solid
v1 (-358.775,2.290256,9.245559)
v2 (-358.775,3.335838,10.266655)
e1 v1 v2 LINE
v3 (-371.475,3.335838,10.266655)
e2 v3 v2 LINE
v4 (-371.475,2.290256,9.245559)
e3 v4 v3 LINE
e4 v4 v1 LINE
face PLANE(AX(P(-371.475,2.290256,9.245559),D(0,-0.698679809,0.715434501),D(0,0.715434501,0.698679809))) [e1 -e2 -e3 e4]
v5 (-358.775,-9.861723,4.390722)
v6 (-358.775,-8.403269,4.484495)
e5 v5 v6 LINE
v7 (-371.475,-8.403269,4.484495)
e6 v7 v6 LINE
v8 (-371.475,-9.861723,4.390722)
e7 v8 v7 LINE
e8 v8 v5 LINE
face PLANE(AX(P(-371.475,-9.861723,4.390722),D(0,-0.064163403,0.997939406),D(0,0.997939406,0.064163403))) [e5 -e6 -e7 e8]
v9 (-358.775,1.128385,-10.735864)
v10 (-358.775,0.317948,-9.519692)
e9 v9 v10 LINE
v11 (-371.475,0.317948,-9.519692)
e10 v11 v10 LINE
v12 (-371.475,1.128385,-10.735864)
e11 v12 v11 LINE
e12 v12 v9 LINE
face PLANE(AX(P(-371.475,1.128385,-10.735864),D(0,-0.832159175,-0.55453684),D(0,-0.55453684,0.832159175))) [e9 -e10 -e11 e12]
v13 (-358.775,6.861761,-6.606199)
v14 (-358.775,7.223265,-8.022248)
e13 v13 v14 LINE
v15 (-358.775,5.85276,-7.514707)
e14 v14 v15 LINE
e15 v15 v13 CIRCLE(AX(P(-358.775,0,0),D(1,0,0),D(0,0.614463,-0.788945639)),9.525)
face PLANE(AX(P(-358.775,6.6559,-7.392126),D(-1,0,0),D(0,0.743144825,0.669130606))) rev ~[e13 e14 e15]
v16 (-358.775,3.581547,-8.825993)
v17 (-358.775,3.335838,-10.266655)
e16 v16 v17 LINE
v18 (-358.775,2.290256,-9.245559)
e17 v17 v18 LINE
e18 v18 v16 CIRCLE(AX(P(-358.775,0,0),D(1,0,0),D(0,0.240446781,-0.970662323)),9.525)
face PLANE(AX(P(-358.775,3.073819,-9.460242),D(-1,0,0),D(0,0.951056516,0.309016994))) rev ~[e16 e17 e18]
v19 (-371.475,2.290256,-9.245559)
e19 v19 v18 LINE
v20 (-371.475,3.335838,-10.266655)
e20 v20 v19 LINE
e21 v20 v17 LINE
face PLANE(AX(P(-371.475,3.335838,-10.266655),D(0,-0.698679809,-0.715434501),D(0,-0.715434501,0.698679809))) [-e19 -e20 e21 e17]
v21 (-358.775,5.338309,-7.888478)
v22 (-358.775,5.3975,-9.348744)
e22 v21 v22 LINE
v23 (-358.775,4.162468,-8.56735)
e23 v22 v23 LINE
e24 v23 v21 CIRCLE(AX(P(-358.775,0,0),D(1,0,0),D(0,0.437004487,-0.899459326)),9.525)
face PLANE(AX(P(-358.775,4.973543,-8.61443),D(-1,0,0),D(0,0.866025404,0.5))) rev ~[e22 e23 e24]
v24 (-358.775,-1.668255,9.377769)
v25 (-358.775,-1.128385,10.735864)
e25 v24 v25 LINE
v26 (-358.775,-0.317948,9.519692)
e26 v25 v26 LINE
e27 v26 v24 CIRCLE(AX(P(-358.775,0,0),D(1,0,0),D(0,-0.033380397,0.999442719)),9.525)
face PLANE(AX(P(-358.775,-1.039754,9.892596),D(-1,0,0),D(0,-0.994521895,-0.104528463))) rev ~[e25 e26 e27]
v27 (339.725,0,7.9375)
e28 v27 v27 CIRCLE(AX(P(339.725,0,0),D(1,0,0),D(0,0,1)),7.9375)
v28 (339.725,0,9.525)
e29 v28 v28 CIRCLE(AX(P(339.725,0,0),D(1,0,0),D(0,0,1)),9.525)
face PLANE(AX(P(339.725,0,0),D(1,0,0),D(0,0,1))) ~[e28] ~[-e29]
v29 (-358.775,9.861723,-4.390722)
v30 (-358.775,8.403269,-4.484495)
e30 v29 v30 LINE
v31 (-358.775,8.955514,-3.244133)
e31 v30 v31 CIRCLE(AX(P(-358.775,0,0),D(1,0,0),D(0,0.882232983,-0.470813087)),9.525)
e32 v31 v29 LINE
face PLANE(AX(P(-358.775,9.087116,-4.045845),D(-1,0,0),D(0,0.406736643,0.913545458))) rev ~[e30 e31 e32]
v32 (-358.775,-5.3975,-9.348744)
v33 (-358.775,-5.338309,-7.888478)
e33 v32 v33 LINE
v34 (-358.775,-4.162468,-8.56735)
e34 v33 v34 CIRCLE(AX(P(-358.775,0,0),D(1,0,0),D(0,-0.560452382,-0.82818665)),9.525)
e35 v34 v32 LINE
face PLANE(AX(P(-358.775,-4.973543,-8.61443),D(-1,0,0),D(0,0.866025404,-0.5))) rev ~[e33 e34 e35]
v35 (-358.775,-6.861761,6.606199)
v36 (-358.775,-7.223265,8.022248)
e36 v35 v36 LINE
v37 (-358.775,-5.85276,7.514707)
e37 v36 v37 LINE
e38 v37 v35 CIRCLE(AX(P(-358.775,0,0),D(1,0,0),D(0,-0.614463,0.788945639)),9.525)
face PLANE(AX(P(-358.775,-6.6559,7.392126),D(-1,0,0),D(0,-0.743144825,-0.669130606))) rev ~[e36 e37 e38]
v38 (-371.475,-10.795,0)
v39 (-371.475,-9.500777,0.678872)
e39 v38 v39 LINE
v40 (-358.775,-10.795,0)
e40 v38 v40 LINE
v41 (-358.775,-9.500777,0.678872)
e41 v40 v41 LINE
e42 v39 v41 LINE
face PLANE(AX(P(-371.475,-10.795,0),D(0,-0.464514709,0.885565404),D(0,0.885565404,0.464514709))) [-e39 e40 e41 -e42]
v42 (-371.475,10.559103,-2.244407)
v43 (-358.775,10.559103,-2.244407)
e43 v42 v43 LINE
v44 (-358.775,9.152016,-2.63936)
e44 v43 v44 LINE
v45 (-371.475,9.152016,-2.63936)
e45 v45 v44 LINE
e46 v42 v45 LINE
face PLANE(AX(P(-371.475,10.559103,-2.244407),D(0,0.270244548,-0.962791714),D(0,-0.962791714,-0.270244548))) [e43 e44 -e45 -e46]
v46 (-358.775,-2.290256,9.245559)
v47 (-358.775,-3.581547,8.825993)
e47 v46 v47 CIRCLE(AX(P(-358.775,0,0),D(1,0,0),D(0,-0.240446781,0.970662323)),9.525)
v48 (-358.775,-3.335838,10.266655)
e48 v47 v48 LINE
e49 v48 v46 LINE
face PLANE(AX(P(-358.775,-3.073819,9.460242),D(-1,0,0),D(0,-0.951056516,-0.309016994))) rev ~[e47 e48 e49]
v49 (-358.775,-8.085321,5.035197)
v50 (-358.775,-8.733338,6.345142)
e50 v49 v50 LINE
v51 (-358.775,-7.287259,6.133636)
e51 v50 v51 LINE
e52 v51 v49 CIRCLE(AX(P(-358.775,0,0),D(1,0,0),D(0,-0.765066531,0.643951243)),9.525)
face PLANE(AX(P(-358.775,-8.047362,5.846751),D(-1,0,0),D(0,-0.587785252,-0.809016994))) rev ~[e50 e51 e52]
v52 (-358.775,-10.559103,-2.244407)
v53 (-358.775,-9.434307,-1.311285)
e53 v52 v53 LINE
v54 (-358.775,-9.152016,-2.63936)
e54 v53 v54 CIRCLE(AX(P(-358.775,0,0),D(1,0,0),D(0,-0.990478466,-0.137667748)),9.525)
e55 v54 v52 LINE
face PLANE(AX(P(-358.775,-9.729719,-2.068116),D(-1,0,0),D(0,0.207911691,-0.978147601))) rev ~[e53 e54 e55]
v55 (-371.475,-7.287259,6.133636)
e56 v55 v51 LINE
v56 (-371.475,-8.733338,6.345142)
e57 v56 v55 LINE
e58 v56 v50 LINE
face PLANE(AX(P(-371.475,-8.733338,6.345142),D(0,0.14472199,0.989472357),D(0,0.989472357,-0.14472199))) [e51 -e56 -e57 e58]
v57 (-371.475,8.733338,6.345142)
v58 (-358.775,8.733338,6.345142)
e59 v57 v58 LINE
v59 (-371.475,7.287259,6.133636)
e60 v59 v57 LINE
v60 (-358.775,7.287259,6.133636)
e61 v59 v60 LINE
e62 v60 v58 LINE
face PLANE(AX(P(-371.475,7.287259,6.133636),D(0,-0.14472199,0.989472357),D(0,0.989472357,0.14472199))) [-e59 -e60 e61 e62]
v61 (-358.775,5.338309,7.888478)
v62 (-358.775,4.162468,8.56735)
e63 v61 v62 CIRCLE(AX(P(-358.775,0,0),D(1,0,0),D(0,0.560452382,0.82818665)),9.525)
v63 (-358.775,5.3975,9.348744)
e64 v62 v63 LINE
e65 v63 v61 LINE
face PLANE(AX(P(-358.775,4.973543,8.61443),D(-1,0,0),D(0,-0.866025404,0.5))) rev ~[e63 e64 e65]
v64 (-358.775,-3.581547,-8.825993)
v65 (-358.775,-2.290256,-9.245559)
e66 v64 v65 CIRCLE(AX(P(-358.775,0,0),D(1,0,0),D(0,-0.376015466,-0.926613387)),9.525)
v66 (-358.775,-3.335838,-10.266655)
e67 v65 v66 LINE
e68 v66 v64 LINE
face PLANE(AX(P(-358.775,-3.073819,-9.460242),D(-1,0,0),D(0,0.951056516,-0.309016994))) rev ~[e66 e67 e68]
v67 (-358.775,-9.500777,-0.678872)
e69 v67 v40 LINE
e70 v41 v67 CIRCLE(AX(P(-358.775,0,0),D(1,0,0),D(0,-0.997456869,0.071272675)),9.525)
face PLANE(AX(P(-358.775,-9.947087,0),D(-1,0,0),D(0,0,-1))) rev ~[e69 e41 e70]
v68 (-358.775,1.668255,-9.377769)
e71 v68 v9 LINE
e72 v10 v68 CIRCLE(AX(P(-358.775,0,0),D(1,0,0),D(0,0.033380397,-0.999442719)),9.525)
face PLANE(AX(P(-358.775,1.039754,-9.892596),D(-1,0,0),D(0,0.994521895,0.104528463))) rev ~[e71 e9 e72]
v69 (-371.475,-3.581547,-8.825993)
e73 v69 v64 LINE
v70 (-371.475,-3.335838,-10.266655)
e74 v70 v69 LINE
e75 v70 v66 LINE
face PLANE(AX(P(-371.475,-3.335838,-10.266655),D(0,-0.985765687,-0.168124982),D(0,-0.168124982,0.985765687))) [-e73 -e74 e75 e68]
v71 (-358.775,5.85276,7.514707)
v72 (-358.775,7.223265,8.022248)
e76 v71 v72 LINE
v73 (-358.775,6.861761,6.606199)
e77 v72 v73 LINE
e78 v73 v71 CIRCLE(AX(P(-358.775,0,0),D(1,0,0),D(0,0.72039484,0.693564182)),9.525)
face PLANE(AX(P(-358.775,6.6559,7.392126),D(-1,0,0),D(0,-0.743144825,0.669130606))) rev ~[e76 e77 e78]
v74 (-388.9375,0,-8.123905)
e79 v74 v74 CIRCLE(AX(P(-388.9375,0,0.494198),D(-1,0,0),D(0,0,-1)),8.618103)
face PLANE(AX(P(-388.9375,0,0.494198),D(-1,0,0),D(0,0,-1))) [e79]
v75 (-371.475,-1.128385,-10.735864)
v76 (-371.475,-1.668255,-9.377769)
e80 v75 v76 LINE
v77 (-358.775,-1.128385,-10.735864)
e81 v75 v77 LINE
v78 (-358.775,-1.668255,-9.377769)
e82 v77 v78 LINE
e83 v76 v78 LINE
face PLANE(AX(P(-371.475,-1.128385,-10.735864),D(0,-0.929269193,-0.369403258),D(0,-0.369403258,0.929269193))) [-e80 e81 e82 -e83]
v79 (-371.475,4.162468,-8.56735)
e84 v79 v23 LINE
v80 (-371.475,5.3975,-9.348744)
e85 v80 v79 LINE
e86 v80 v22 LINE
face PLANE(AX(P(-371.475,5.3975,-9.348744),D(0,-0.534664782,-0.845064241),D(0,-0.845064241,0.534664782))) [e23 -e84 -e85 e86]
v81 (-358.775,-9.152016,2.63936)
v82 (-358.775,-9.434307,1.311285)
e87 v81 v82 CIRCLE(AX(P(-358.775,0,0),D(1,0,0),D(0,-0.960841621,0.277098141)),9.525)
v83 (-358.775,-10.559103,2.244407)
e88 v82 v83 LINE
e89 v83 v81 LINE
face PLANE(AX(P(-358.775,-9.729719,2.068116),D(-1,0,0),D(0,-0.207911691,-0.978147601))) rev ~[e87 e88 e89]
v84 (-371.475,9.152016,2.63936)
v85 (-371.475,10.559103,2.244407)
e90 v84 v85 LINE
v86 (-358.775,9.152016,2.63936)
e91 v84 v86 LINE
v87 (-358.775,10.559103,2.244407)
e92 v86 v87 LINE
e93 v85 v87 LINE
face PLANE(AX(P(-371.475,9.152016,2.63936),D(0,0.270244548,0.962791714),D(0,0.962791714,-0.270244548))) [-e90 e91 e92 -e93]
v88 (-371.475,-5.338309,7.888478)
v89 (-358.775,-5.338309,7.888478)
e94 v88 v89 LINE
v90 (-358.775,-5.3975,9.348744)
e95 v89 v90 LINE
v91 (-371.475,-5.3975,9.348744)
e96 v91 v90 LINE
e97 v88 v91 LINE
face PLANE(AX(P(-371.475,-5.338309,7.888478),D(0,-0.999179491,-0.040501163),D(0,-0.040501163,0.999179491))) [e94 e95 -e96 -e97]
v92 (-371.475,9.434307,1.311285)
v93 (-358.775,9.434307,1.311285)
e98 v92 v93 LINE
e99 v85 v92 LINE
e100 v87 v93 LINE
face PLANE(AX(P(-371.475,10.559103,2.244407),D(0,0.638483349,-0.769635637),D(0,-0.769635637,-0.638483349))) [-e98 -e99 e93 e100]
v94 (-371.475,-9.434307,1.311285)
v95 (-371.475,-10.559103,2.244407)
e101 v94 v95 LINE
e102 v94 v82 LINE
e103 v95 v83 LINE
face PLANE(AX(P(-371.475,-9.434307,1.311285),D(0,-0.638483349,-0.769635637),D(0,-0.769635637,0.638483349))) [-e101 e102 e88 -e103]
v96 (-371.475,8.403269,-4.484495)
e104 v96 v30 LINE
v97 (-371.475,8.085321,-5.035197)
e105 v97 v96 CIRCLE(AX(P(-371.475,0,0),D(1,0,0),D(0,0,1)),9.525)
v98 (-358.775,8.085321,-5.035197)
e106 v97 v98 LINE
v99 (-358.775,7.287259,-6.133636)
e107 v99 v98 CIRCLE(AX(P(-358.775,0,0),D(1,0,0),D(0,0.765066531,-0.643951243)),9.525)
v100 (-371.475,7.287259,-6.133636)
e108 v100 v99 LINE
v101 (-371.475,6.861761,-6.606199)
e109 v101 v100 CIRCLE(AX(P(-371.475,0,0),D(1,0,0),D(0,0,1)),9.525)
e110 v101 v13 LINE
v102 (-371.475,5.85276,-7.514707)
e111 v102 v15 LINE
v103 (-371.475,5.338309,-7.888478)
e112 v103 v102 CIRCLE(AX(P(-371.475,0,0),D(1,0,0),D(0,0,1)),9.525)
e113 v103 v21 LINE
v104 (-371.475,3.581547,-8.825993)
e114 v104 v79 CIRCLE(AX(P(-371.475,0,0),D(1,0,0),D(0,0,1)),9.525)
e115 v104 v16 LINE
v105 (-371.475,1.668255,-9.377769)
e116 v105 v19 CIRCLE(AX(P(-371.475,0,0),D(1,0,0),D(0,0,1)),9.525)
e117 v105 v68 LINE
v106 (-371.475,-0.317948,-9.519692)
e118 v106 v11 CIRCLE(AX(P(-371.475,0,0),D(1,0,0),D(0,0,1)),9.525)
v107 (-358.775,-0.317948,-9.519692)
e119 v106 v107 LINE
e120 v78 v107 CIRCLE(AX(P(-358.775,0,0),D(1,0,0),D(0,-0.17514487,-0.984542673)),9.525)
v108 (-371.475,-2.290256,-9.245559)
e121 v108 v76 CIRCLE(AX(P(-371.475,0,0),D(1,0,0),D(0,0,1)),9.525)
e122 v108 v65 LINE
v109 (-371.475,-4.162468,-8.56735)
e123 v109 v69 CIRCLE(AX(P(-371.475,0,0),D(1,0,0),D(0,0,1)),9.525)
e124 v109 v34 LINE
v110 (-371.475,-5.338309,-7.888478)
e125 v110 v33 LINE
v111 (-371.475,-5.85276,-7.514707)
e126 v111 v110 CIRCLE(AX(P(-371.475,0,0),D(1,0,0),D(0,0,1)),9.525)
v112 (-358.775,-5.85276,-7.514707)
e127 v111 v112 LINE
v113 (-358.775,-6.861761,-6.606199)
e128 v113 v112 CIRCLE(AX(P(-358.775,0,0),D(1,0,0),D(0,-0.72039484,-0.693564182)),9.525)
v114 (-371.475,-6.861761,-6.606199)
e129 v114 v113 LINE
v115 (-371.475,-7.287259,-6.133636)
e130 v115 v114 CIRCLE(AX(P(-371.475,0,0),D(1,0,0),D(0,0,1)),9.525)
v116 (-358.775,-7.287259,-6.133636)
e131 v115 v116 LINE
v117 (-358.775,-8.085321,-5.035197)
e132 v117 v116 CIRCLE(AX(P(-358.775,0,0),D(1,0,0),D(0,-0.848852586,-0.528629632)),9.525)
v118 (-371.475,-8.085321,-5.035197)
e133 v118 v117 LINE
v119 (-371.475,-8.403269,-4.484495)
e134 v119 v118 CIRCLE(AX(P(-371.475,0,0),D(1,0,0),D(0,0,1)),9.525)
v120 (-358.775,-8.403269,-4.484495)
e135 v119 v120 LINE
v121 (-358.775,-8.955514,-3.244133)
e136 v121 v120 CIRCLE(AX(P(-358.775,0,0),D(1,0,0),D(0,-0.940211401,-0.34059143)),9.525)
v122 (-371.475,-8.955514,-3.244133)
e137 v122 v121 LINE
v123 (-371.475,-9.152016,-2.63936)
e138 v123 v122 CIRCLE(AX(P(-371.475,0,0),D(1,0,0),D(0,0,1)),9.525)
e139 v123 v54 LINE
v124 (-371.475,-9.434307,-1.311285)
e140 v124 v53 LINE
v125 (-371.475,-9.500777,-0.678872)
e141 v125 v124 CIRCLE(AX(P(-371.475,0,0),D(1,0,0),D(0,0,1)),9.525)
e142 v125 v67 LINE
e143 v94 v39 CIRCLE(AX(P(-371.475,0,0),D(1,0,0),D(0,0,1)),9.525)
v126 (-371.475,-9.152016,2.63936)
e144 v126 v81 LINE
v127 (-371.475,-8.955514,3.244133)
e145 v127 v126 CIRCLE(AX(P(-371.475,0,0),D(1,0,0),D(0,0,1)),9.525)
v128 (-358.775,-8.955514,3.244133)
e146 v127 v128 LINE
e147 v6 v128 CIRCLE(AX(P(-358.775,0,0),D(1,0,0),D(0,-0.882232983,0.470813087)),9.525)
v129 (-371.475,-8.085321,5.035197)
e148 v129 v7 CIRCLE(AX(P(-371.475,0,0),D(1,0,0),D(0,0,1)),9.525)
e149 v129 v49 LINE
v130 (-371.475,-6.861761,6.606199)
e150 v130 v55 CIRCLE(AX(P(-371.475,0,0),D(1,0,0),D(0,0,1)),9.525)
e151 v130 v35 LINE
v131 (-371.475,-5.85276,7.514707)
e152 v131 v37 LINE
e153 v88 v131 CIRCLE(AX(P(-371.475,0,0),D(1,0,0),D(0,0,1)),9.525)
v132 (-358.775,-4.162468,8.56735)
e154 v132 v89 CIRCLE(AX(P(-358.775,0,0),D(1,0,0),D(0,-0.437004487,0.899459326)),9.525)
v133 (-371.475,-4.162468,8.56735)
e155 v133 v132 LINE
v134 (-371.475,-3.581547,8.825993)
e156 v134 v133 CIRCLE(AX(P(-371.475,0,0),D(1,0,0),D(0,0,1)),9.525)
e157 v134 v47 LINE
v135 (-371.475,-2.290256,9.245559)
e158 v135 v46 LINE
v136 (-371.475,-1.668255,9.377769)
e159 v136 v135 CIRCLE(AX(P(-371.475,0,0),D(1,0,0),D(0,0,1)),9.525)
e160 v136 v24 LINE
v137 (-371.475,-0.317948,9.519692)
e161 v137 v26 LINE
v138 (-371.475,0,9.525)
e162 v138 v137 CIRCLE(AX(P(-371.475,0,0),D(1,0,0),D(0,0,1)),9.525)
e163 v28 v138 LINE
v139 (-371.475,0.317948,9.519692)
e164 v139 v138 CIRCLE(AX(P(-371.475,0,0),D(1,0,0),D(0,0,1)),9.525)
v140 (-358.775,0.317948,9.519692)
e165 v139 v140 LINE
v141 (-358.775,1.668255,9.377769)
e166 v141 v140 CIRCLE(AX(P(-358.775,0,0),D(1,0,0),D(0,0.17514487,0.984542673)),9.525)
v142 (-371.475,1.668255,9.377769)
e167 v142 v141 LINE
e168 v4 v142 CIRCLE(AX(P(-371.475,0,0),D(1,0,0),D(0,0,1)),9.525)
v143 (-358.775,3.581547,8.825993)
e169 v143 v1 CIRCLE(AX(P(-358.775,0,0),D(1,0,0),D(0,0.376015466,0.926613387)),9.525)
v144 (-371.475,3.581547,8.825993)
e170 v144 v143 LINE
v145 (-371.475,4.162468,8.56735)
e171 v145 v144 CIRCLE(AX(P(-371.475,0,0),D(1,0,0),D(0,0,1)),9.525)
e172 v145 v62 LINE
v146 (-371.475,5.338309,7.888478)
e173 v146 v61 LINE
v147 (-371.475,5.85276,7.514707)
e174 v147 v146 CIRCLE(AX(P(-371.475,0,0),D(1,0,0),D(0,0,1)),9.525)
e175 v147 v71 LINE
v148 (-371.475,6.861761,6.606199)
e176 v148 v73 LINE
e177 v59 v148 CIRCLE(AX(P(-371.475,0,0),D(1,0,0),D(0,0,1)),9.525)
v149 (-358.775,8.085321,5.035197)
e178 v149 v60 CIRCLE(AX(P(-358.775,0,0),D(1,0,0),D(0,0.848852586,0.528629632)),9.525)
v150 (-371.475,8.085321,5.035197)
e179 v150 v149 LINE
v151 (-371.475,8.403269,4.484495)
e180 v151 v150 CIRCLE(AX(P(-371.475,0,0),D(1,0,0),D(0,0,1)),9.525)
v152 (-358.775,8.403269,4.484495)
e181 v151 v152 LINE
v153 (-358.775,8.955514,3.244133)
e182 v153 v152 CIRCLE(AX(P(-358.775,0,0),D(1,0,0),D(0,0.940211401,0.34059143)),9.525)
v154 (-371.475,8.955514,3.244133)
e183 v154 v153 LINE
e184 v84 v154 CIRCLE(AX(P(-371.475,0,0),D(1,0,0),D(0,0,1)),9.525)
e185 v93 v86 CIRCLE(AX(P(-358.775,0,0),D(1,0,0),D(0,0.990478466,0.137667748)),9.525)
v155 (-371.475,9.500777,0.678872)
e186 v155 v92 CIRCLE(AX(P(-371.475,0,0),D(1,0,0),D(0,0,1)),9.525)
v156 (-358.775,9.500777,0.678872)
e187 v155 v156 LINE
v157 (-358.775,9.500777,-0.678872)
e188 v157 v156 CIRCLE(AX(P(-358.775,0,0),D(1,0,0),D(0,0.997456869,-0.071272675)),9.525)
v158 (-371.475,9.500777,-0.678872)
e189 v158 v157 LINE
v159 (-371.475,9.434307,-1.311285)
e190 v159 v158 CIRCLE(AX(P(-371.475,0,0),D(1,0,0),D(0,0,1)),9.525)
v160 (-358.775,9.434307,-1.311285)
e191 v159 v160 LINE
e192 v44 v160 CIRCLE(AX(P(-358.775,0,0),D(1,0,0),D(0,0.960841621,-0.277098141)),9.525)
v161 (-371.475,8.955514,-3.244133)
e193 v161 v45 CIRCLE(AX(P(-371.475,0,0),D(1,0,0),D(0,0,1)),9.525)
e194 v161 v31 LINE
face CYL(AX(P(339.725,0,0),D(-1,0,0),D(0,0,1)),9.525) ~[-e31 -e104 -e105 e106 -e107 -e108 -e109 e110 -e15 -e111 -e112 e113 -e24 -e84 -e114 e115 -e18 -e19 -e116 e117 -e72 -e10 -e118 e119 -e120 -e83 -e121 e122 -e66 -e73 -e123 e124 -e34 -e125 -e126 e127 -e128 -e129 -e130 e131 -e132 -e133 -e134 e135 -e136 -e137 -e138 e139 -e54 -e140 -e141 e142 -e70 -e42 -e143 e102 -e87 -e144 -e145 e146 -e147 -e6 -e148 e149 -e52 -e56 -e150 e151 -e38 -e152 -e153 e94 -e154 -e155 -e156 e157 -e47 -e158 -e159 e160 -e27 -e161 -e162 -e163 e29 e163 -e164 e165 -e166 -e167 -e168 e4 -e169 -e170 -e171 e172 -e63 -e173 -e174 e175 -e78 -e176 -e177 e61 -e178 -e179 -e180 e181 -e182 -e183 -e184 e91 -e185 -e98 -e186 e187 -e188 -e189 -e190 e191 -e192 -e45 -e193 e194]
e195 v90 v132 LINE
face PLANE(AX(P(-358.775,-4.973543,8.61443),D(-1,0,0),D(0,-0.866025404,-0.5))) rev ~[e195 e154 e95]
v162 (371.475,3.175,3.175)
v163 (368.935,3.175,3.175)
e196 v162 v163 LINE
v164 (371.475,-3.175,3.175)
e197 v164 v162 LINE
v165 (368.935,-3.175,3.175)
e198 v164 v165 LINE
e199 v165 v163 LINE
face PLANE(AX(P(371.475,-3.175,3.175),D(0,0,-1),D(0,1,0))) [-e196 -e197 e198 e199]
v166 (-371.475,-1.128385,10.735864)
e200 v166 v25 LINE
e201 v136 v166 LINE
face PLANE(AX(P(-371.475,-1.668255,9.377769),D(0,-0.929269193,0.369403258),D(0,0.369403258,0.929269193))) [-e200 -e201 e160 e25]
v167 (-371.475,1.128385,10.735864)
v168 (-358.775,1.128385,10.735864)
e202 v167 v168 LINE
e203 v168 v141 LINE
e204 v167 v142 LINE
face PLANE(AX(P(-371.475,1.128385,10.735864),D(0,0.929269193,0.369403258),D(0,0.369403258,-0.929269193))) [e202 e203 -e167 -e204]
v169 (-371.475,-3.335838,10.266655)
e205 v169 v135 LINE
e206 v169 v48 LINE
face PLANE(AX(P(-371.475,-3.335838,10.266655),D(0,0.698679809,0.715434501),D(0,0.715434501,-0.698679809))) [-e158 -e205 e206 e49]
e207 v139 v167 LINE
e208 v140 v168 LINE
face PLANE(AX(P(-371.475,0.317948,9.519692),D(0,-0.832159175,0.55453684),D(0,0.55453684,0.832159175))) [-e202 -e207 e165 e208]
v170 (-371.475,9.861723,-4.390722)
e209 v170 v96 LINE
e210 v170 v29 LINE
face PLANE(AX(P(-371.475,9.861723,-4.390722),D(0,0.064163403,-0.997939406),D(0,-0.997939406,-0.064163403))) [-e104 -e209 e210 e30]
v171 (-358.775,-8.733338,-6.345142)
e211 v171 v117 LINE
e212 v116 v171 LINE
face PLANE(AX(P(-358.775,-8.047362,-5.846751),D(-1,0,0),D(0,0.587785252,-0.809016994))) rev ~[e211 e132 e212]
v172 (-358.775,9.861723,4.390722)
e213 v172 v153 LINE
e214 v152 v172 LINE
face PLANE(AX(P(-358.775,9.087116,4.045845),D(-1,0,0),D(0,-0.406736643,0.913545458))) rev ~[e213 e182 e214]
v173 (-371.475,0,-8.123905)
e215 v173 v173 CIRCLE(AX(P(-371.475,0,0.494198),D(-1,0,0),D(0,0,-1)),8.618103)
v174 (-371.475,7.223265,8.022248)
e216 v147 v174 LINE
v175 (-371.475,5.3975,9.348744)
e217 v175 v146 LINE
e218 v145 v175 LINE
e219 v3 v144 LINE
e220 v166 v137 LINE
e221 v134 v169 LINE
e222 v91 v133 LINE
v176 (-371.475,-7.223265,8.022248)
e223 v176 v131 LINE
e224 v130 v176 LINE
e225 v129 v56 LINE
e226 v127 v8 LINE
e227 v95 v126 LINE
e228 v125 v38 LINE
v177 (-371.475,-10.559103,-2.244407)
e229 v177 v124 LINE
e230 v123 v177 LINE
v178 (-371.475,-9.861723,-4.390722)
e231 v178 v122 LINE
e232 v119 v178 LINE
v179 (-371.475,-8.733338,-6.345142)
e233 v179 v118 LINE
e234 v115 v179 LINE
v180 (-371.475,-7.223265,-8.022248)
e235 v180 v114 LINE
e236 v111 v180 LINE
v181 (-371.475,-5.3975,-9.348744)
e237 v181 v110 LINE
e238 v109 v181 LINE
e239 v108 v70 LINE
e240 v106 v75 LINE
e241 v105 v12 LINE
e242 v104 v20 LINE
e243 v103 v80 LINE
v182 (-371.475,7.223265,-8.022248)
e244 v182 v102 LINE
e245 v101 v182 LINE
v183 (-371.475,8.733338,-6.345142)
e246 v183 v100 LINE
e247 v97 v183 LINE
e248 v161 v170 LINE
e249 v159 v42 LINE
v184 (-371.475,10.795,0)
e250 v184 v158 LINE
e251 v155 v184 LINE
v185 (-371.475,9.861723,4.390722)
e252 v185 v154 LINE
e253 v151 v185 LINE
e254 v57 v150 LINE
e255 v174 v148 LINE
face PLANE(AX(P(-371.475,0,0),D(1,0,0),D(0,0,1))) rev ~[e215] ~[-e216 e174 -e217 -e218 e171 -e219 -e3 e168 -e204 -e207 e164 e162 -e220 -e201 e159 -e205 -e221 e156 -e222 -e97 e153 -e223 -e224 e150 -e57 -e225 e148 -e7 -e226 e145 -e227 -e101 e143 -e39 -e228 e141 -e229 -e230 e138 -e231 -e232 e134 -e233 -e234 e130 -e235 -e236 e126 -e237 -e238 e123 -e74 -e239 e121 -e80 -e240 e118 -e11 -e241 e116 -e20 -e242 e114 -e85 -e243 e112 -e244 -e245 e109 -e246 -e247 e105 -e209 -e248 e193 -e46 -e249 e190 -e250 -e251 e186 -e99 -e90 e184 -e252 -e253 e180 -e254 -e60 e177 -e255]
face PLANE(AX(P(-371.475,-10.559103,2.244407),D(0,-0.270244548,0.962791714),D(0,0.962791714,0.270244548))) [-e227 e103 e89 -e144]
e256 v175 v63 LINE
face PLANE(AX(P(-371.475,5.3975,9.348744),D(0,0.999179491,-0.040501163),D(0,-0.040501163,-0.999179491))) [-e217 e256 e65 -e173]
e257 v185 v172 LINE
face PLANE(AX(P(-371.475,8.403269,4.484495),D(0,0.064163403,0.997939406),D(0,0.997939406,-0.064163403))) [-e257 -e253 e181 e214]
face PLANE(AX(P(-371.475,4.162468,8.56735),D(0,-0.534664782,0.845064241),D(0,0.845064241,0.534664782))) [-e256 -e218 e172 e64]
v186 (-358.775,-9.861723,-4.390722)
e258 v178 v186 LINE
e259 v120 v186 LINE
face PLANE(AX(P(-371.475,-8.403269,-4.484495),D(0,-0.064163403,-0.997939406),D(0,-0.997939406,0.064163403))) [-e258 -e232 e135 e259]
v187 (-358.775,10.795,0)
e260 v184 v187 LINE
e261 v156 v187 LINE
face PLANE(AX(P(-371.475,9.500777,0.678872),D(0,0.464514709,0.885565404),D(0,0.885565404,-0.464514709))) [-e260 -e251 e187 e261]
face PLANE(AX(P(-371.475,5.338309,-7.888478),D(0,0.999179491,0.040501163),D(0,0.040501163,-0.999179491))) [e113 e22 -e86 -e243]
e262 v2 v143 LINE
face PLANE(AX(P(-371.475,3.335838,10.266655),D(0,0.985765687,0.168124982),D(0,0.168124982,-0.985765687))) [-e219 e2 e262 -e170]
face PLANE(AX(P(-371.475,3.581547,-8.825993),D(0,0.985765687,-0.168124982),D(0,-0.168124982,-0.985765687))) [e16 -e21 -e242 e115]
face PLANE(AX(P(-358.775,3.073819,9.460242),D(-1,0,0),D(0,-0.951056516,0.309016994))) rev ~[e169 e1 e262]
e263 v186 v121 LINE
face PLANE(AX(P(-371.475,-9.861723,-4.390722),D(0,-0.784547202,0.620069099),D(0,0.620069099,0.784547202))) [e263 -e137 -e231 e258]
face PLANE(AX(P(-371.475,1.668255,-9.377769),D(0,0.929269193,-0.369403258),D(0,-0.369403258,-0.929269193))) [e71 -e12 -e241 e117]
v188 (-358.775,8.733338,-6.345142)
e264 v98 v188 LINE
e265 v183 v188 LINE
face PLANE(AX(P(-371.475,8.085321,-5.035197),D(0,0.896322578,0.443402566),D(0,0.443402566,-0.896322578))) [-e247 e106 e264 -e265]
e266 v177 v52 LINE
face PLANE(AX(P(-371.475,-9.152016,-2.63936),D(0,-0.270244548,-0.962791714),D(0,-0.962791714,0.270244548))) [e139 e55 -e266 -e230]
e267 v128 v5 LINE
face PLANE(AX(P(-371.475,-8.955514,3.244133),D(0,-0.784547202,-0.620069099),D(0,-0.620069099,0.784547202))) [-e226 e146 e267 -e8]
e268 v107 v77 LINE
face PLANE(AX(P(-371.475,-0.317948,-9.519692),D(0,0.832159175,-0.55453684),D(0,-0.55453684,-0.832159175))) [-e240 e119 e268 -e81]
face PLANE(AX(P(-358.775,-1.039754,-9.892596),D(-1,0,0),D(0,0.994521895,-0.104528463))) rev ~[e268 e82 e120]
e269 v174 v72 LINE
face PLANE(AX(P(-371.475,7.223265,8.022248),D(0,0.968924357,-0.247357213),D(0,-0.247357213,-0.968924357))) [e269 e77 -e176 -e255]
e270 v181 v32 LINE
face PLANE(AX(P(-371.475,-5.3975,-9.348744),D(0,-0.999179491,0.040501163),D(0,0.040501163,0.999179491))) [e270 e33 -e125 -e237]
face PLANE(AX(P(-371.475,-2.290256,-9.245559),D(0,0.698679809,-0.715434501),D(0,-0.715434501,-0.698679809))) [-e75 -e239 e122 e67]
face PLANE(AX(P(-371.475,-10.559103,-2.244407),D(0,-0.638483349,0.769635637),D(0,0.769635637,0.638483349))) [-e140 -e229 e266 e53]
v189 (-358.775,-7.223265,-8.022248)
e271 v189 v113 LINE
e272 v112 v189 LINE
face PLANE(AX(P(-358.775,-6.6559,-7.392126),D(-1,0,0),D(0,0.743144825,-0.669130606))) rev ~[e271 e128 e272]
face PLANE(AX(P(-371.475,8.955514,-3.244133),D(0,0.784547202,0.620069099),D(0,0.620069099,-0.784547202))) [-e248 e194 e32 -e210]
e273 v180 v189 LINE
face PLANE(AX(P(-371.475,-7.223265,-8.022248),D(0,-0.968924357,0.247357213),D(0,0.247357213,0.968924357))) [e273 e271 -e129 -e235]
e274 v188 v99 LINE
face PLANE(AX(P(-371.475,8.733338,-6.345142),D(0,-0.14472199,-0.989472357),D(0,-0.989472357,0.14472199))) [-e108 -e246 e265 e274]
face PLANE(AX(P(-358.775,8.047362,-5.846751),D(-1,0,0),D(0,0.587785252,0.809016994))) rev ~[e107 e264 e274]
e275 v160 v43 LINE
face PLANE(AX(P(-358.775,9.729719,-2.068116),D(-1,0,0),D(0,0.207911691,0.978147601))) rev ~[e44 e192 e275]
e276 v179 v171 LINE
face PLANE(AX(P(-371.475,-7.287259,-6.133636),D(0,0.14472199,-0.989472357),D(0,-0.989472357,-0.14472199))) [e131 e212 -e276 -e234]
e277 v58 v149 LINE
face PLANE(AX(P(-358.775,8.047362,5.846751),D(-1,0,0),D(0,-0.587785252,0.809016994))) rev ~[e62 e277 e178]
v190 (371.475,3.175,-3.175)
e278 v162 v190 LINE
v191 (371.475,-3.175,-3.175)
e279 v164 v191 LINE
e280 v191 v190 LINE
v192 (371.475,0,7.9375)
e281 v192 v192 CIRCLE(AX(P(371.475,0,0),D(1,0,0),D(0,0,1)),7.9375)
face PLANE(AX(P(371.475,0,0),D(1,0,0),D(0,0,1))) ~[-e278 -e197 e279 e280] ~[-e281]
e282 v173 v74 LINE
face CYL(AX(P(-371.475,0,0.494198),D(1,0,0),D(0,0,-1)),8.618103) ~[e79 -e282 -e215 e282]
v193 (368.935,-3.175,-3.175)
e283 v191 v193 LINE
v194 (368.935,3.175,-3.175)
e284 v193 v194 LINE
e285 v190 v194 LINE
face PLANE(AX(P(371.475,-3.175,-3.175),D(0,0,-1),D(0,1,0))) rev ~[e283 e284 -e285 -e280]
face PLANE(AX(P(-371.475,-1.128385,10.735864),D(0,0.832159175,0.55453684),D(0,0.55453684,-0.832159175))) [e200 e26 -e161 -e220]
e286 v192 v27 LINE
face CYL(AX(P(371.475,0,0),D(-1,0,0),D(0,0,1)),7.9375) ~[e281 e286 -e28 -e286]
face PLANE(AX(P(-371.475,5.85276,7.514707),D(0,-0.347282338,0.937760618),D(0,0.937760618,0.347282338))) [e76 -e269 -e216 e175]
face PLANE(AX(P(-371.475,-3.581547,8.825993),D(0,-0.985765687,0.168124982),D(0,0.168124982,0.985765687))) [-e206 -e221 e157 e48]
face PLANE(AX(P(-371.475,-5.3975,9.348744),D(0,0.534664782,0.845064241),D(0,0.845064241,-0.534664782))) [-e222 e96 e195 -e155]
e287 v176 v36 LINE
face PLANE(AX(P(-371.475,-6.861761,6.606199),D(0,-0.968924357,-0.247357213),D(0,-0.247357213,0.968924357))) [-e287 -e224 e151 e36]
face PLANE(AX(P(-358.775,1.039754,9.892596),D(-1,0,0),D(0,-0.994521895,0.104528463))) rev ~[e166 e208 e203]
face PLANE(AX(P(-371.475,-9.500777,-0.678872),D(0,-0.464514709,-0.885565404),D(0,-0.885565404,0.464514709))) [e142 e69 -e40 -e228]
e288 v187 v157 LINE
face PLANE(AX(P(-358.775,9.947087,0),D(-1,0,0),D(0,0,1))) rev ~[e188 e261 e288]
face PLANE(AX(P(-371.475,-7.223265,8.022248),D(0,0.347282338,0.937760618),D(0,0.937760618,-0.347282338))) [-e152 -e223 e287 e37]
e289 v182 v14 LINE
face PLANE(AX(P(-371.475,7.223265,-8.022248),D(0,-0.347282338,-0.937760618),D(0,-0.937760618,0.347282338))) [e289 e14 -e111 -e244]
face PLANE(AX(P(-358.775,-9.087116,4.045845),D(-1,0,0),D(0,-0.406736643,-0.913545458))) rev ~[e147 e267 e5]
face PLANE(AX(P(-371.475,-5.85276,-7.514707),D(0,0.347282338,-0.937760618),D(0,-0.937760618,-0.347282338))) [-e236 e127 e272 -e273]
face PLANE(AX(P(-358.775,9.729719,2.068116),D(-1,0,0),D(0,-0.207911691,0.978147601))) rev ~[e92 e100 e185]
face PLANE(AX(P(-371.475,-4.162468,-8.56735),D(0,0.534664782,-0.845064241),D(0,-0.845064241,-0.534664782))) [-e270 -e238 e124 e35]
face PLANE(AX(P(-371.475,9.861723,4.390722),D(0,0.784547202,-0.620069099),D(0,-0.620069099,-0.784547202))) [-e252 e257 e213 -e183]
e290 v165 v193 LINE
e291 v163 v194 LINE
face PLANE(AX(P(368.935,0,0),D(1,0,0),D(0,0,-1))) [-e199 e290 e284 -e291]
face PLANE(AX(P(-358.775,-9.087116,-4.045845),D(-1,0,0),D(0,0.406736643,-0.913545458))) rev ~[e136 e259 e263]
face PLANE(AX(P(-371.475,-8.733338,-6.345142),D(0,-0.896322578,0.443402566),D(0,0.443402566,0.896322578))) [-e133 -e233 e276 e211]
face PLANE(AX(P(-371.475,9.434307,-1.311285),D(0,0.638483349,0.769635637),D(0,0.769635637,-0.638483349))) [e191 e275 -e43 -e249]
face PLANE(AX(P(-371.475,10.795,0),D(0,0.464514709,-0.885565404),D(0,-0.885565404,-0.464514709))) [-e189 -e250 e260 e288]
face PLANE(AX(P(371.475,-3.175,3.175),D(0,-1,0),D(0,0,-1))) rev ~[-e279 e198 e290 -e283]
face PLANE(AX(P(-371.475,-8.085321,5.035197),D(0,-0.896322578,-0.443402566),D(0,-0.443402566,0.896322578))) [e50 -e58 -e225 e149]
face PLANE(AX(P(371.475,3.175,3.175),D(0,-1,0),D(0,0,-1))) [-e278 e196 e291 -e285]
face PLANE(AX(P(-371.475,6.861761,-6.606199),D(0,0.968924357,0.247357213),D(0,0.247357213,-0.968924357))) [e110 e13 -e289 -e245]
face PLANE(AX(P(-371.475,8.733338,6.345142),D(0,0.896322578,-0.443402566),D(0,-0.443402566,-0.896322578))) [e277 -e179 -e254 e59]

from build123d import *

# Parameters (mm, degrees)
BOSS_EXTRUDE1_DEPTH = 12.7
CIRPATTERN1_COUNT   = 30
SKETCH3_R           = 8.618103117
BOSS_EXTRUDE2_DEPTH = 17.4625
SKETCH4_W           = 6.35
SKETCH4_H           = 6.35
MAGIC_BOX_DEPTH     = 2.54


with BuildPart() as part:
    # Sketch1 → Revolve1 (revolve)
    with BuildSketch(Plane.XY):
        Polygon((-371.475, 0), (371.475, 0), (371.475, 7.9375), (339.725, 7.9375), (339.725, 9.525), (-371.475, 9.525), align=None)
    revolve(axis=Axis((-389.812509547, 0, 0), (1, 0, 0)))

    # Sketch2 → Boss-Extrude1 (add)
    with BuildSketch(Plane.ZY.offset(371.475)):
        with BuildLine():
            Line((0, 10.795), (-0.678872241, 9.500776678))
            ThreePointArc((-0.678872241, 9.500776678), (0, 9.525), (0.678872241, 9.500776678))
            Line((0.678872241, 9.500776678), (0, 10.795))
        make_face()
    boss_extrude1 = extrude(amount=-BOSS_EXTRUDE1_DEPTH)

    # CirPattern1: Boss-Extrude1 ×30 about axis
    cirpattern1_axis = Axis((-371.475, 0, 0), (-1, 0, 0))
    for i in range(1, CIRPATTERN1_COUNT):
        add(boss_extrude1.rotate(cirpattern1_axis, i * 360 / CIRPATTERN1_COUNT))

    # Sketch3 → Boss-Extrude2 (add)
    with BuildSketch(Plane.ZY.offset(371.475)):
        with Locations((0.494197933, 0)):
            Circle(SKETCH3_R)
    extrude(amount=BOSS_EXTRUDE2_DEPTH)

    # Sketch4 → Magic Box (cut)
    with BuildSketch(Plane(origin=(371.475, 0, 0), x_dir=(0, 0, -1), z_dir=(1, 0, 0))):
        Rectangle(SKETCH4_W, SKETCH4_H)
    extrude(amount=-MAGIC_BOX_DEPTH, mode=Mode.SUBTRACT)


solid = part.part
